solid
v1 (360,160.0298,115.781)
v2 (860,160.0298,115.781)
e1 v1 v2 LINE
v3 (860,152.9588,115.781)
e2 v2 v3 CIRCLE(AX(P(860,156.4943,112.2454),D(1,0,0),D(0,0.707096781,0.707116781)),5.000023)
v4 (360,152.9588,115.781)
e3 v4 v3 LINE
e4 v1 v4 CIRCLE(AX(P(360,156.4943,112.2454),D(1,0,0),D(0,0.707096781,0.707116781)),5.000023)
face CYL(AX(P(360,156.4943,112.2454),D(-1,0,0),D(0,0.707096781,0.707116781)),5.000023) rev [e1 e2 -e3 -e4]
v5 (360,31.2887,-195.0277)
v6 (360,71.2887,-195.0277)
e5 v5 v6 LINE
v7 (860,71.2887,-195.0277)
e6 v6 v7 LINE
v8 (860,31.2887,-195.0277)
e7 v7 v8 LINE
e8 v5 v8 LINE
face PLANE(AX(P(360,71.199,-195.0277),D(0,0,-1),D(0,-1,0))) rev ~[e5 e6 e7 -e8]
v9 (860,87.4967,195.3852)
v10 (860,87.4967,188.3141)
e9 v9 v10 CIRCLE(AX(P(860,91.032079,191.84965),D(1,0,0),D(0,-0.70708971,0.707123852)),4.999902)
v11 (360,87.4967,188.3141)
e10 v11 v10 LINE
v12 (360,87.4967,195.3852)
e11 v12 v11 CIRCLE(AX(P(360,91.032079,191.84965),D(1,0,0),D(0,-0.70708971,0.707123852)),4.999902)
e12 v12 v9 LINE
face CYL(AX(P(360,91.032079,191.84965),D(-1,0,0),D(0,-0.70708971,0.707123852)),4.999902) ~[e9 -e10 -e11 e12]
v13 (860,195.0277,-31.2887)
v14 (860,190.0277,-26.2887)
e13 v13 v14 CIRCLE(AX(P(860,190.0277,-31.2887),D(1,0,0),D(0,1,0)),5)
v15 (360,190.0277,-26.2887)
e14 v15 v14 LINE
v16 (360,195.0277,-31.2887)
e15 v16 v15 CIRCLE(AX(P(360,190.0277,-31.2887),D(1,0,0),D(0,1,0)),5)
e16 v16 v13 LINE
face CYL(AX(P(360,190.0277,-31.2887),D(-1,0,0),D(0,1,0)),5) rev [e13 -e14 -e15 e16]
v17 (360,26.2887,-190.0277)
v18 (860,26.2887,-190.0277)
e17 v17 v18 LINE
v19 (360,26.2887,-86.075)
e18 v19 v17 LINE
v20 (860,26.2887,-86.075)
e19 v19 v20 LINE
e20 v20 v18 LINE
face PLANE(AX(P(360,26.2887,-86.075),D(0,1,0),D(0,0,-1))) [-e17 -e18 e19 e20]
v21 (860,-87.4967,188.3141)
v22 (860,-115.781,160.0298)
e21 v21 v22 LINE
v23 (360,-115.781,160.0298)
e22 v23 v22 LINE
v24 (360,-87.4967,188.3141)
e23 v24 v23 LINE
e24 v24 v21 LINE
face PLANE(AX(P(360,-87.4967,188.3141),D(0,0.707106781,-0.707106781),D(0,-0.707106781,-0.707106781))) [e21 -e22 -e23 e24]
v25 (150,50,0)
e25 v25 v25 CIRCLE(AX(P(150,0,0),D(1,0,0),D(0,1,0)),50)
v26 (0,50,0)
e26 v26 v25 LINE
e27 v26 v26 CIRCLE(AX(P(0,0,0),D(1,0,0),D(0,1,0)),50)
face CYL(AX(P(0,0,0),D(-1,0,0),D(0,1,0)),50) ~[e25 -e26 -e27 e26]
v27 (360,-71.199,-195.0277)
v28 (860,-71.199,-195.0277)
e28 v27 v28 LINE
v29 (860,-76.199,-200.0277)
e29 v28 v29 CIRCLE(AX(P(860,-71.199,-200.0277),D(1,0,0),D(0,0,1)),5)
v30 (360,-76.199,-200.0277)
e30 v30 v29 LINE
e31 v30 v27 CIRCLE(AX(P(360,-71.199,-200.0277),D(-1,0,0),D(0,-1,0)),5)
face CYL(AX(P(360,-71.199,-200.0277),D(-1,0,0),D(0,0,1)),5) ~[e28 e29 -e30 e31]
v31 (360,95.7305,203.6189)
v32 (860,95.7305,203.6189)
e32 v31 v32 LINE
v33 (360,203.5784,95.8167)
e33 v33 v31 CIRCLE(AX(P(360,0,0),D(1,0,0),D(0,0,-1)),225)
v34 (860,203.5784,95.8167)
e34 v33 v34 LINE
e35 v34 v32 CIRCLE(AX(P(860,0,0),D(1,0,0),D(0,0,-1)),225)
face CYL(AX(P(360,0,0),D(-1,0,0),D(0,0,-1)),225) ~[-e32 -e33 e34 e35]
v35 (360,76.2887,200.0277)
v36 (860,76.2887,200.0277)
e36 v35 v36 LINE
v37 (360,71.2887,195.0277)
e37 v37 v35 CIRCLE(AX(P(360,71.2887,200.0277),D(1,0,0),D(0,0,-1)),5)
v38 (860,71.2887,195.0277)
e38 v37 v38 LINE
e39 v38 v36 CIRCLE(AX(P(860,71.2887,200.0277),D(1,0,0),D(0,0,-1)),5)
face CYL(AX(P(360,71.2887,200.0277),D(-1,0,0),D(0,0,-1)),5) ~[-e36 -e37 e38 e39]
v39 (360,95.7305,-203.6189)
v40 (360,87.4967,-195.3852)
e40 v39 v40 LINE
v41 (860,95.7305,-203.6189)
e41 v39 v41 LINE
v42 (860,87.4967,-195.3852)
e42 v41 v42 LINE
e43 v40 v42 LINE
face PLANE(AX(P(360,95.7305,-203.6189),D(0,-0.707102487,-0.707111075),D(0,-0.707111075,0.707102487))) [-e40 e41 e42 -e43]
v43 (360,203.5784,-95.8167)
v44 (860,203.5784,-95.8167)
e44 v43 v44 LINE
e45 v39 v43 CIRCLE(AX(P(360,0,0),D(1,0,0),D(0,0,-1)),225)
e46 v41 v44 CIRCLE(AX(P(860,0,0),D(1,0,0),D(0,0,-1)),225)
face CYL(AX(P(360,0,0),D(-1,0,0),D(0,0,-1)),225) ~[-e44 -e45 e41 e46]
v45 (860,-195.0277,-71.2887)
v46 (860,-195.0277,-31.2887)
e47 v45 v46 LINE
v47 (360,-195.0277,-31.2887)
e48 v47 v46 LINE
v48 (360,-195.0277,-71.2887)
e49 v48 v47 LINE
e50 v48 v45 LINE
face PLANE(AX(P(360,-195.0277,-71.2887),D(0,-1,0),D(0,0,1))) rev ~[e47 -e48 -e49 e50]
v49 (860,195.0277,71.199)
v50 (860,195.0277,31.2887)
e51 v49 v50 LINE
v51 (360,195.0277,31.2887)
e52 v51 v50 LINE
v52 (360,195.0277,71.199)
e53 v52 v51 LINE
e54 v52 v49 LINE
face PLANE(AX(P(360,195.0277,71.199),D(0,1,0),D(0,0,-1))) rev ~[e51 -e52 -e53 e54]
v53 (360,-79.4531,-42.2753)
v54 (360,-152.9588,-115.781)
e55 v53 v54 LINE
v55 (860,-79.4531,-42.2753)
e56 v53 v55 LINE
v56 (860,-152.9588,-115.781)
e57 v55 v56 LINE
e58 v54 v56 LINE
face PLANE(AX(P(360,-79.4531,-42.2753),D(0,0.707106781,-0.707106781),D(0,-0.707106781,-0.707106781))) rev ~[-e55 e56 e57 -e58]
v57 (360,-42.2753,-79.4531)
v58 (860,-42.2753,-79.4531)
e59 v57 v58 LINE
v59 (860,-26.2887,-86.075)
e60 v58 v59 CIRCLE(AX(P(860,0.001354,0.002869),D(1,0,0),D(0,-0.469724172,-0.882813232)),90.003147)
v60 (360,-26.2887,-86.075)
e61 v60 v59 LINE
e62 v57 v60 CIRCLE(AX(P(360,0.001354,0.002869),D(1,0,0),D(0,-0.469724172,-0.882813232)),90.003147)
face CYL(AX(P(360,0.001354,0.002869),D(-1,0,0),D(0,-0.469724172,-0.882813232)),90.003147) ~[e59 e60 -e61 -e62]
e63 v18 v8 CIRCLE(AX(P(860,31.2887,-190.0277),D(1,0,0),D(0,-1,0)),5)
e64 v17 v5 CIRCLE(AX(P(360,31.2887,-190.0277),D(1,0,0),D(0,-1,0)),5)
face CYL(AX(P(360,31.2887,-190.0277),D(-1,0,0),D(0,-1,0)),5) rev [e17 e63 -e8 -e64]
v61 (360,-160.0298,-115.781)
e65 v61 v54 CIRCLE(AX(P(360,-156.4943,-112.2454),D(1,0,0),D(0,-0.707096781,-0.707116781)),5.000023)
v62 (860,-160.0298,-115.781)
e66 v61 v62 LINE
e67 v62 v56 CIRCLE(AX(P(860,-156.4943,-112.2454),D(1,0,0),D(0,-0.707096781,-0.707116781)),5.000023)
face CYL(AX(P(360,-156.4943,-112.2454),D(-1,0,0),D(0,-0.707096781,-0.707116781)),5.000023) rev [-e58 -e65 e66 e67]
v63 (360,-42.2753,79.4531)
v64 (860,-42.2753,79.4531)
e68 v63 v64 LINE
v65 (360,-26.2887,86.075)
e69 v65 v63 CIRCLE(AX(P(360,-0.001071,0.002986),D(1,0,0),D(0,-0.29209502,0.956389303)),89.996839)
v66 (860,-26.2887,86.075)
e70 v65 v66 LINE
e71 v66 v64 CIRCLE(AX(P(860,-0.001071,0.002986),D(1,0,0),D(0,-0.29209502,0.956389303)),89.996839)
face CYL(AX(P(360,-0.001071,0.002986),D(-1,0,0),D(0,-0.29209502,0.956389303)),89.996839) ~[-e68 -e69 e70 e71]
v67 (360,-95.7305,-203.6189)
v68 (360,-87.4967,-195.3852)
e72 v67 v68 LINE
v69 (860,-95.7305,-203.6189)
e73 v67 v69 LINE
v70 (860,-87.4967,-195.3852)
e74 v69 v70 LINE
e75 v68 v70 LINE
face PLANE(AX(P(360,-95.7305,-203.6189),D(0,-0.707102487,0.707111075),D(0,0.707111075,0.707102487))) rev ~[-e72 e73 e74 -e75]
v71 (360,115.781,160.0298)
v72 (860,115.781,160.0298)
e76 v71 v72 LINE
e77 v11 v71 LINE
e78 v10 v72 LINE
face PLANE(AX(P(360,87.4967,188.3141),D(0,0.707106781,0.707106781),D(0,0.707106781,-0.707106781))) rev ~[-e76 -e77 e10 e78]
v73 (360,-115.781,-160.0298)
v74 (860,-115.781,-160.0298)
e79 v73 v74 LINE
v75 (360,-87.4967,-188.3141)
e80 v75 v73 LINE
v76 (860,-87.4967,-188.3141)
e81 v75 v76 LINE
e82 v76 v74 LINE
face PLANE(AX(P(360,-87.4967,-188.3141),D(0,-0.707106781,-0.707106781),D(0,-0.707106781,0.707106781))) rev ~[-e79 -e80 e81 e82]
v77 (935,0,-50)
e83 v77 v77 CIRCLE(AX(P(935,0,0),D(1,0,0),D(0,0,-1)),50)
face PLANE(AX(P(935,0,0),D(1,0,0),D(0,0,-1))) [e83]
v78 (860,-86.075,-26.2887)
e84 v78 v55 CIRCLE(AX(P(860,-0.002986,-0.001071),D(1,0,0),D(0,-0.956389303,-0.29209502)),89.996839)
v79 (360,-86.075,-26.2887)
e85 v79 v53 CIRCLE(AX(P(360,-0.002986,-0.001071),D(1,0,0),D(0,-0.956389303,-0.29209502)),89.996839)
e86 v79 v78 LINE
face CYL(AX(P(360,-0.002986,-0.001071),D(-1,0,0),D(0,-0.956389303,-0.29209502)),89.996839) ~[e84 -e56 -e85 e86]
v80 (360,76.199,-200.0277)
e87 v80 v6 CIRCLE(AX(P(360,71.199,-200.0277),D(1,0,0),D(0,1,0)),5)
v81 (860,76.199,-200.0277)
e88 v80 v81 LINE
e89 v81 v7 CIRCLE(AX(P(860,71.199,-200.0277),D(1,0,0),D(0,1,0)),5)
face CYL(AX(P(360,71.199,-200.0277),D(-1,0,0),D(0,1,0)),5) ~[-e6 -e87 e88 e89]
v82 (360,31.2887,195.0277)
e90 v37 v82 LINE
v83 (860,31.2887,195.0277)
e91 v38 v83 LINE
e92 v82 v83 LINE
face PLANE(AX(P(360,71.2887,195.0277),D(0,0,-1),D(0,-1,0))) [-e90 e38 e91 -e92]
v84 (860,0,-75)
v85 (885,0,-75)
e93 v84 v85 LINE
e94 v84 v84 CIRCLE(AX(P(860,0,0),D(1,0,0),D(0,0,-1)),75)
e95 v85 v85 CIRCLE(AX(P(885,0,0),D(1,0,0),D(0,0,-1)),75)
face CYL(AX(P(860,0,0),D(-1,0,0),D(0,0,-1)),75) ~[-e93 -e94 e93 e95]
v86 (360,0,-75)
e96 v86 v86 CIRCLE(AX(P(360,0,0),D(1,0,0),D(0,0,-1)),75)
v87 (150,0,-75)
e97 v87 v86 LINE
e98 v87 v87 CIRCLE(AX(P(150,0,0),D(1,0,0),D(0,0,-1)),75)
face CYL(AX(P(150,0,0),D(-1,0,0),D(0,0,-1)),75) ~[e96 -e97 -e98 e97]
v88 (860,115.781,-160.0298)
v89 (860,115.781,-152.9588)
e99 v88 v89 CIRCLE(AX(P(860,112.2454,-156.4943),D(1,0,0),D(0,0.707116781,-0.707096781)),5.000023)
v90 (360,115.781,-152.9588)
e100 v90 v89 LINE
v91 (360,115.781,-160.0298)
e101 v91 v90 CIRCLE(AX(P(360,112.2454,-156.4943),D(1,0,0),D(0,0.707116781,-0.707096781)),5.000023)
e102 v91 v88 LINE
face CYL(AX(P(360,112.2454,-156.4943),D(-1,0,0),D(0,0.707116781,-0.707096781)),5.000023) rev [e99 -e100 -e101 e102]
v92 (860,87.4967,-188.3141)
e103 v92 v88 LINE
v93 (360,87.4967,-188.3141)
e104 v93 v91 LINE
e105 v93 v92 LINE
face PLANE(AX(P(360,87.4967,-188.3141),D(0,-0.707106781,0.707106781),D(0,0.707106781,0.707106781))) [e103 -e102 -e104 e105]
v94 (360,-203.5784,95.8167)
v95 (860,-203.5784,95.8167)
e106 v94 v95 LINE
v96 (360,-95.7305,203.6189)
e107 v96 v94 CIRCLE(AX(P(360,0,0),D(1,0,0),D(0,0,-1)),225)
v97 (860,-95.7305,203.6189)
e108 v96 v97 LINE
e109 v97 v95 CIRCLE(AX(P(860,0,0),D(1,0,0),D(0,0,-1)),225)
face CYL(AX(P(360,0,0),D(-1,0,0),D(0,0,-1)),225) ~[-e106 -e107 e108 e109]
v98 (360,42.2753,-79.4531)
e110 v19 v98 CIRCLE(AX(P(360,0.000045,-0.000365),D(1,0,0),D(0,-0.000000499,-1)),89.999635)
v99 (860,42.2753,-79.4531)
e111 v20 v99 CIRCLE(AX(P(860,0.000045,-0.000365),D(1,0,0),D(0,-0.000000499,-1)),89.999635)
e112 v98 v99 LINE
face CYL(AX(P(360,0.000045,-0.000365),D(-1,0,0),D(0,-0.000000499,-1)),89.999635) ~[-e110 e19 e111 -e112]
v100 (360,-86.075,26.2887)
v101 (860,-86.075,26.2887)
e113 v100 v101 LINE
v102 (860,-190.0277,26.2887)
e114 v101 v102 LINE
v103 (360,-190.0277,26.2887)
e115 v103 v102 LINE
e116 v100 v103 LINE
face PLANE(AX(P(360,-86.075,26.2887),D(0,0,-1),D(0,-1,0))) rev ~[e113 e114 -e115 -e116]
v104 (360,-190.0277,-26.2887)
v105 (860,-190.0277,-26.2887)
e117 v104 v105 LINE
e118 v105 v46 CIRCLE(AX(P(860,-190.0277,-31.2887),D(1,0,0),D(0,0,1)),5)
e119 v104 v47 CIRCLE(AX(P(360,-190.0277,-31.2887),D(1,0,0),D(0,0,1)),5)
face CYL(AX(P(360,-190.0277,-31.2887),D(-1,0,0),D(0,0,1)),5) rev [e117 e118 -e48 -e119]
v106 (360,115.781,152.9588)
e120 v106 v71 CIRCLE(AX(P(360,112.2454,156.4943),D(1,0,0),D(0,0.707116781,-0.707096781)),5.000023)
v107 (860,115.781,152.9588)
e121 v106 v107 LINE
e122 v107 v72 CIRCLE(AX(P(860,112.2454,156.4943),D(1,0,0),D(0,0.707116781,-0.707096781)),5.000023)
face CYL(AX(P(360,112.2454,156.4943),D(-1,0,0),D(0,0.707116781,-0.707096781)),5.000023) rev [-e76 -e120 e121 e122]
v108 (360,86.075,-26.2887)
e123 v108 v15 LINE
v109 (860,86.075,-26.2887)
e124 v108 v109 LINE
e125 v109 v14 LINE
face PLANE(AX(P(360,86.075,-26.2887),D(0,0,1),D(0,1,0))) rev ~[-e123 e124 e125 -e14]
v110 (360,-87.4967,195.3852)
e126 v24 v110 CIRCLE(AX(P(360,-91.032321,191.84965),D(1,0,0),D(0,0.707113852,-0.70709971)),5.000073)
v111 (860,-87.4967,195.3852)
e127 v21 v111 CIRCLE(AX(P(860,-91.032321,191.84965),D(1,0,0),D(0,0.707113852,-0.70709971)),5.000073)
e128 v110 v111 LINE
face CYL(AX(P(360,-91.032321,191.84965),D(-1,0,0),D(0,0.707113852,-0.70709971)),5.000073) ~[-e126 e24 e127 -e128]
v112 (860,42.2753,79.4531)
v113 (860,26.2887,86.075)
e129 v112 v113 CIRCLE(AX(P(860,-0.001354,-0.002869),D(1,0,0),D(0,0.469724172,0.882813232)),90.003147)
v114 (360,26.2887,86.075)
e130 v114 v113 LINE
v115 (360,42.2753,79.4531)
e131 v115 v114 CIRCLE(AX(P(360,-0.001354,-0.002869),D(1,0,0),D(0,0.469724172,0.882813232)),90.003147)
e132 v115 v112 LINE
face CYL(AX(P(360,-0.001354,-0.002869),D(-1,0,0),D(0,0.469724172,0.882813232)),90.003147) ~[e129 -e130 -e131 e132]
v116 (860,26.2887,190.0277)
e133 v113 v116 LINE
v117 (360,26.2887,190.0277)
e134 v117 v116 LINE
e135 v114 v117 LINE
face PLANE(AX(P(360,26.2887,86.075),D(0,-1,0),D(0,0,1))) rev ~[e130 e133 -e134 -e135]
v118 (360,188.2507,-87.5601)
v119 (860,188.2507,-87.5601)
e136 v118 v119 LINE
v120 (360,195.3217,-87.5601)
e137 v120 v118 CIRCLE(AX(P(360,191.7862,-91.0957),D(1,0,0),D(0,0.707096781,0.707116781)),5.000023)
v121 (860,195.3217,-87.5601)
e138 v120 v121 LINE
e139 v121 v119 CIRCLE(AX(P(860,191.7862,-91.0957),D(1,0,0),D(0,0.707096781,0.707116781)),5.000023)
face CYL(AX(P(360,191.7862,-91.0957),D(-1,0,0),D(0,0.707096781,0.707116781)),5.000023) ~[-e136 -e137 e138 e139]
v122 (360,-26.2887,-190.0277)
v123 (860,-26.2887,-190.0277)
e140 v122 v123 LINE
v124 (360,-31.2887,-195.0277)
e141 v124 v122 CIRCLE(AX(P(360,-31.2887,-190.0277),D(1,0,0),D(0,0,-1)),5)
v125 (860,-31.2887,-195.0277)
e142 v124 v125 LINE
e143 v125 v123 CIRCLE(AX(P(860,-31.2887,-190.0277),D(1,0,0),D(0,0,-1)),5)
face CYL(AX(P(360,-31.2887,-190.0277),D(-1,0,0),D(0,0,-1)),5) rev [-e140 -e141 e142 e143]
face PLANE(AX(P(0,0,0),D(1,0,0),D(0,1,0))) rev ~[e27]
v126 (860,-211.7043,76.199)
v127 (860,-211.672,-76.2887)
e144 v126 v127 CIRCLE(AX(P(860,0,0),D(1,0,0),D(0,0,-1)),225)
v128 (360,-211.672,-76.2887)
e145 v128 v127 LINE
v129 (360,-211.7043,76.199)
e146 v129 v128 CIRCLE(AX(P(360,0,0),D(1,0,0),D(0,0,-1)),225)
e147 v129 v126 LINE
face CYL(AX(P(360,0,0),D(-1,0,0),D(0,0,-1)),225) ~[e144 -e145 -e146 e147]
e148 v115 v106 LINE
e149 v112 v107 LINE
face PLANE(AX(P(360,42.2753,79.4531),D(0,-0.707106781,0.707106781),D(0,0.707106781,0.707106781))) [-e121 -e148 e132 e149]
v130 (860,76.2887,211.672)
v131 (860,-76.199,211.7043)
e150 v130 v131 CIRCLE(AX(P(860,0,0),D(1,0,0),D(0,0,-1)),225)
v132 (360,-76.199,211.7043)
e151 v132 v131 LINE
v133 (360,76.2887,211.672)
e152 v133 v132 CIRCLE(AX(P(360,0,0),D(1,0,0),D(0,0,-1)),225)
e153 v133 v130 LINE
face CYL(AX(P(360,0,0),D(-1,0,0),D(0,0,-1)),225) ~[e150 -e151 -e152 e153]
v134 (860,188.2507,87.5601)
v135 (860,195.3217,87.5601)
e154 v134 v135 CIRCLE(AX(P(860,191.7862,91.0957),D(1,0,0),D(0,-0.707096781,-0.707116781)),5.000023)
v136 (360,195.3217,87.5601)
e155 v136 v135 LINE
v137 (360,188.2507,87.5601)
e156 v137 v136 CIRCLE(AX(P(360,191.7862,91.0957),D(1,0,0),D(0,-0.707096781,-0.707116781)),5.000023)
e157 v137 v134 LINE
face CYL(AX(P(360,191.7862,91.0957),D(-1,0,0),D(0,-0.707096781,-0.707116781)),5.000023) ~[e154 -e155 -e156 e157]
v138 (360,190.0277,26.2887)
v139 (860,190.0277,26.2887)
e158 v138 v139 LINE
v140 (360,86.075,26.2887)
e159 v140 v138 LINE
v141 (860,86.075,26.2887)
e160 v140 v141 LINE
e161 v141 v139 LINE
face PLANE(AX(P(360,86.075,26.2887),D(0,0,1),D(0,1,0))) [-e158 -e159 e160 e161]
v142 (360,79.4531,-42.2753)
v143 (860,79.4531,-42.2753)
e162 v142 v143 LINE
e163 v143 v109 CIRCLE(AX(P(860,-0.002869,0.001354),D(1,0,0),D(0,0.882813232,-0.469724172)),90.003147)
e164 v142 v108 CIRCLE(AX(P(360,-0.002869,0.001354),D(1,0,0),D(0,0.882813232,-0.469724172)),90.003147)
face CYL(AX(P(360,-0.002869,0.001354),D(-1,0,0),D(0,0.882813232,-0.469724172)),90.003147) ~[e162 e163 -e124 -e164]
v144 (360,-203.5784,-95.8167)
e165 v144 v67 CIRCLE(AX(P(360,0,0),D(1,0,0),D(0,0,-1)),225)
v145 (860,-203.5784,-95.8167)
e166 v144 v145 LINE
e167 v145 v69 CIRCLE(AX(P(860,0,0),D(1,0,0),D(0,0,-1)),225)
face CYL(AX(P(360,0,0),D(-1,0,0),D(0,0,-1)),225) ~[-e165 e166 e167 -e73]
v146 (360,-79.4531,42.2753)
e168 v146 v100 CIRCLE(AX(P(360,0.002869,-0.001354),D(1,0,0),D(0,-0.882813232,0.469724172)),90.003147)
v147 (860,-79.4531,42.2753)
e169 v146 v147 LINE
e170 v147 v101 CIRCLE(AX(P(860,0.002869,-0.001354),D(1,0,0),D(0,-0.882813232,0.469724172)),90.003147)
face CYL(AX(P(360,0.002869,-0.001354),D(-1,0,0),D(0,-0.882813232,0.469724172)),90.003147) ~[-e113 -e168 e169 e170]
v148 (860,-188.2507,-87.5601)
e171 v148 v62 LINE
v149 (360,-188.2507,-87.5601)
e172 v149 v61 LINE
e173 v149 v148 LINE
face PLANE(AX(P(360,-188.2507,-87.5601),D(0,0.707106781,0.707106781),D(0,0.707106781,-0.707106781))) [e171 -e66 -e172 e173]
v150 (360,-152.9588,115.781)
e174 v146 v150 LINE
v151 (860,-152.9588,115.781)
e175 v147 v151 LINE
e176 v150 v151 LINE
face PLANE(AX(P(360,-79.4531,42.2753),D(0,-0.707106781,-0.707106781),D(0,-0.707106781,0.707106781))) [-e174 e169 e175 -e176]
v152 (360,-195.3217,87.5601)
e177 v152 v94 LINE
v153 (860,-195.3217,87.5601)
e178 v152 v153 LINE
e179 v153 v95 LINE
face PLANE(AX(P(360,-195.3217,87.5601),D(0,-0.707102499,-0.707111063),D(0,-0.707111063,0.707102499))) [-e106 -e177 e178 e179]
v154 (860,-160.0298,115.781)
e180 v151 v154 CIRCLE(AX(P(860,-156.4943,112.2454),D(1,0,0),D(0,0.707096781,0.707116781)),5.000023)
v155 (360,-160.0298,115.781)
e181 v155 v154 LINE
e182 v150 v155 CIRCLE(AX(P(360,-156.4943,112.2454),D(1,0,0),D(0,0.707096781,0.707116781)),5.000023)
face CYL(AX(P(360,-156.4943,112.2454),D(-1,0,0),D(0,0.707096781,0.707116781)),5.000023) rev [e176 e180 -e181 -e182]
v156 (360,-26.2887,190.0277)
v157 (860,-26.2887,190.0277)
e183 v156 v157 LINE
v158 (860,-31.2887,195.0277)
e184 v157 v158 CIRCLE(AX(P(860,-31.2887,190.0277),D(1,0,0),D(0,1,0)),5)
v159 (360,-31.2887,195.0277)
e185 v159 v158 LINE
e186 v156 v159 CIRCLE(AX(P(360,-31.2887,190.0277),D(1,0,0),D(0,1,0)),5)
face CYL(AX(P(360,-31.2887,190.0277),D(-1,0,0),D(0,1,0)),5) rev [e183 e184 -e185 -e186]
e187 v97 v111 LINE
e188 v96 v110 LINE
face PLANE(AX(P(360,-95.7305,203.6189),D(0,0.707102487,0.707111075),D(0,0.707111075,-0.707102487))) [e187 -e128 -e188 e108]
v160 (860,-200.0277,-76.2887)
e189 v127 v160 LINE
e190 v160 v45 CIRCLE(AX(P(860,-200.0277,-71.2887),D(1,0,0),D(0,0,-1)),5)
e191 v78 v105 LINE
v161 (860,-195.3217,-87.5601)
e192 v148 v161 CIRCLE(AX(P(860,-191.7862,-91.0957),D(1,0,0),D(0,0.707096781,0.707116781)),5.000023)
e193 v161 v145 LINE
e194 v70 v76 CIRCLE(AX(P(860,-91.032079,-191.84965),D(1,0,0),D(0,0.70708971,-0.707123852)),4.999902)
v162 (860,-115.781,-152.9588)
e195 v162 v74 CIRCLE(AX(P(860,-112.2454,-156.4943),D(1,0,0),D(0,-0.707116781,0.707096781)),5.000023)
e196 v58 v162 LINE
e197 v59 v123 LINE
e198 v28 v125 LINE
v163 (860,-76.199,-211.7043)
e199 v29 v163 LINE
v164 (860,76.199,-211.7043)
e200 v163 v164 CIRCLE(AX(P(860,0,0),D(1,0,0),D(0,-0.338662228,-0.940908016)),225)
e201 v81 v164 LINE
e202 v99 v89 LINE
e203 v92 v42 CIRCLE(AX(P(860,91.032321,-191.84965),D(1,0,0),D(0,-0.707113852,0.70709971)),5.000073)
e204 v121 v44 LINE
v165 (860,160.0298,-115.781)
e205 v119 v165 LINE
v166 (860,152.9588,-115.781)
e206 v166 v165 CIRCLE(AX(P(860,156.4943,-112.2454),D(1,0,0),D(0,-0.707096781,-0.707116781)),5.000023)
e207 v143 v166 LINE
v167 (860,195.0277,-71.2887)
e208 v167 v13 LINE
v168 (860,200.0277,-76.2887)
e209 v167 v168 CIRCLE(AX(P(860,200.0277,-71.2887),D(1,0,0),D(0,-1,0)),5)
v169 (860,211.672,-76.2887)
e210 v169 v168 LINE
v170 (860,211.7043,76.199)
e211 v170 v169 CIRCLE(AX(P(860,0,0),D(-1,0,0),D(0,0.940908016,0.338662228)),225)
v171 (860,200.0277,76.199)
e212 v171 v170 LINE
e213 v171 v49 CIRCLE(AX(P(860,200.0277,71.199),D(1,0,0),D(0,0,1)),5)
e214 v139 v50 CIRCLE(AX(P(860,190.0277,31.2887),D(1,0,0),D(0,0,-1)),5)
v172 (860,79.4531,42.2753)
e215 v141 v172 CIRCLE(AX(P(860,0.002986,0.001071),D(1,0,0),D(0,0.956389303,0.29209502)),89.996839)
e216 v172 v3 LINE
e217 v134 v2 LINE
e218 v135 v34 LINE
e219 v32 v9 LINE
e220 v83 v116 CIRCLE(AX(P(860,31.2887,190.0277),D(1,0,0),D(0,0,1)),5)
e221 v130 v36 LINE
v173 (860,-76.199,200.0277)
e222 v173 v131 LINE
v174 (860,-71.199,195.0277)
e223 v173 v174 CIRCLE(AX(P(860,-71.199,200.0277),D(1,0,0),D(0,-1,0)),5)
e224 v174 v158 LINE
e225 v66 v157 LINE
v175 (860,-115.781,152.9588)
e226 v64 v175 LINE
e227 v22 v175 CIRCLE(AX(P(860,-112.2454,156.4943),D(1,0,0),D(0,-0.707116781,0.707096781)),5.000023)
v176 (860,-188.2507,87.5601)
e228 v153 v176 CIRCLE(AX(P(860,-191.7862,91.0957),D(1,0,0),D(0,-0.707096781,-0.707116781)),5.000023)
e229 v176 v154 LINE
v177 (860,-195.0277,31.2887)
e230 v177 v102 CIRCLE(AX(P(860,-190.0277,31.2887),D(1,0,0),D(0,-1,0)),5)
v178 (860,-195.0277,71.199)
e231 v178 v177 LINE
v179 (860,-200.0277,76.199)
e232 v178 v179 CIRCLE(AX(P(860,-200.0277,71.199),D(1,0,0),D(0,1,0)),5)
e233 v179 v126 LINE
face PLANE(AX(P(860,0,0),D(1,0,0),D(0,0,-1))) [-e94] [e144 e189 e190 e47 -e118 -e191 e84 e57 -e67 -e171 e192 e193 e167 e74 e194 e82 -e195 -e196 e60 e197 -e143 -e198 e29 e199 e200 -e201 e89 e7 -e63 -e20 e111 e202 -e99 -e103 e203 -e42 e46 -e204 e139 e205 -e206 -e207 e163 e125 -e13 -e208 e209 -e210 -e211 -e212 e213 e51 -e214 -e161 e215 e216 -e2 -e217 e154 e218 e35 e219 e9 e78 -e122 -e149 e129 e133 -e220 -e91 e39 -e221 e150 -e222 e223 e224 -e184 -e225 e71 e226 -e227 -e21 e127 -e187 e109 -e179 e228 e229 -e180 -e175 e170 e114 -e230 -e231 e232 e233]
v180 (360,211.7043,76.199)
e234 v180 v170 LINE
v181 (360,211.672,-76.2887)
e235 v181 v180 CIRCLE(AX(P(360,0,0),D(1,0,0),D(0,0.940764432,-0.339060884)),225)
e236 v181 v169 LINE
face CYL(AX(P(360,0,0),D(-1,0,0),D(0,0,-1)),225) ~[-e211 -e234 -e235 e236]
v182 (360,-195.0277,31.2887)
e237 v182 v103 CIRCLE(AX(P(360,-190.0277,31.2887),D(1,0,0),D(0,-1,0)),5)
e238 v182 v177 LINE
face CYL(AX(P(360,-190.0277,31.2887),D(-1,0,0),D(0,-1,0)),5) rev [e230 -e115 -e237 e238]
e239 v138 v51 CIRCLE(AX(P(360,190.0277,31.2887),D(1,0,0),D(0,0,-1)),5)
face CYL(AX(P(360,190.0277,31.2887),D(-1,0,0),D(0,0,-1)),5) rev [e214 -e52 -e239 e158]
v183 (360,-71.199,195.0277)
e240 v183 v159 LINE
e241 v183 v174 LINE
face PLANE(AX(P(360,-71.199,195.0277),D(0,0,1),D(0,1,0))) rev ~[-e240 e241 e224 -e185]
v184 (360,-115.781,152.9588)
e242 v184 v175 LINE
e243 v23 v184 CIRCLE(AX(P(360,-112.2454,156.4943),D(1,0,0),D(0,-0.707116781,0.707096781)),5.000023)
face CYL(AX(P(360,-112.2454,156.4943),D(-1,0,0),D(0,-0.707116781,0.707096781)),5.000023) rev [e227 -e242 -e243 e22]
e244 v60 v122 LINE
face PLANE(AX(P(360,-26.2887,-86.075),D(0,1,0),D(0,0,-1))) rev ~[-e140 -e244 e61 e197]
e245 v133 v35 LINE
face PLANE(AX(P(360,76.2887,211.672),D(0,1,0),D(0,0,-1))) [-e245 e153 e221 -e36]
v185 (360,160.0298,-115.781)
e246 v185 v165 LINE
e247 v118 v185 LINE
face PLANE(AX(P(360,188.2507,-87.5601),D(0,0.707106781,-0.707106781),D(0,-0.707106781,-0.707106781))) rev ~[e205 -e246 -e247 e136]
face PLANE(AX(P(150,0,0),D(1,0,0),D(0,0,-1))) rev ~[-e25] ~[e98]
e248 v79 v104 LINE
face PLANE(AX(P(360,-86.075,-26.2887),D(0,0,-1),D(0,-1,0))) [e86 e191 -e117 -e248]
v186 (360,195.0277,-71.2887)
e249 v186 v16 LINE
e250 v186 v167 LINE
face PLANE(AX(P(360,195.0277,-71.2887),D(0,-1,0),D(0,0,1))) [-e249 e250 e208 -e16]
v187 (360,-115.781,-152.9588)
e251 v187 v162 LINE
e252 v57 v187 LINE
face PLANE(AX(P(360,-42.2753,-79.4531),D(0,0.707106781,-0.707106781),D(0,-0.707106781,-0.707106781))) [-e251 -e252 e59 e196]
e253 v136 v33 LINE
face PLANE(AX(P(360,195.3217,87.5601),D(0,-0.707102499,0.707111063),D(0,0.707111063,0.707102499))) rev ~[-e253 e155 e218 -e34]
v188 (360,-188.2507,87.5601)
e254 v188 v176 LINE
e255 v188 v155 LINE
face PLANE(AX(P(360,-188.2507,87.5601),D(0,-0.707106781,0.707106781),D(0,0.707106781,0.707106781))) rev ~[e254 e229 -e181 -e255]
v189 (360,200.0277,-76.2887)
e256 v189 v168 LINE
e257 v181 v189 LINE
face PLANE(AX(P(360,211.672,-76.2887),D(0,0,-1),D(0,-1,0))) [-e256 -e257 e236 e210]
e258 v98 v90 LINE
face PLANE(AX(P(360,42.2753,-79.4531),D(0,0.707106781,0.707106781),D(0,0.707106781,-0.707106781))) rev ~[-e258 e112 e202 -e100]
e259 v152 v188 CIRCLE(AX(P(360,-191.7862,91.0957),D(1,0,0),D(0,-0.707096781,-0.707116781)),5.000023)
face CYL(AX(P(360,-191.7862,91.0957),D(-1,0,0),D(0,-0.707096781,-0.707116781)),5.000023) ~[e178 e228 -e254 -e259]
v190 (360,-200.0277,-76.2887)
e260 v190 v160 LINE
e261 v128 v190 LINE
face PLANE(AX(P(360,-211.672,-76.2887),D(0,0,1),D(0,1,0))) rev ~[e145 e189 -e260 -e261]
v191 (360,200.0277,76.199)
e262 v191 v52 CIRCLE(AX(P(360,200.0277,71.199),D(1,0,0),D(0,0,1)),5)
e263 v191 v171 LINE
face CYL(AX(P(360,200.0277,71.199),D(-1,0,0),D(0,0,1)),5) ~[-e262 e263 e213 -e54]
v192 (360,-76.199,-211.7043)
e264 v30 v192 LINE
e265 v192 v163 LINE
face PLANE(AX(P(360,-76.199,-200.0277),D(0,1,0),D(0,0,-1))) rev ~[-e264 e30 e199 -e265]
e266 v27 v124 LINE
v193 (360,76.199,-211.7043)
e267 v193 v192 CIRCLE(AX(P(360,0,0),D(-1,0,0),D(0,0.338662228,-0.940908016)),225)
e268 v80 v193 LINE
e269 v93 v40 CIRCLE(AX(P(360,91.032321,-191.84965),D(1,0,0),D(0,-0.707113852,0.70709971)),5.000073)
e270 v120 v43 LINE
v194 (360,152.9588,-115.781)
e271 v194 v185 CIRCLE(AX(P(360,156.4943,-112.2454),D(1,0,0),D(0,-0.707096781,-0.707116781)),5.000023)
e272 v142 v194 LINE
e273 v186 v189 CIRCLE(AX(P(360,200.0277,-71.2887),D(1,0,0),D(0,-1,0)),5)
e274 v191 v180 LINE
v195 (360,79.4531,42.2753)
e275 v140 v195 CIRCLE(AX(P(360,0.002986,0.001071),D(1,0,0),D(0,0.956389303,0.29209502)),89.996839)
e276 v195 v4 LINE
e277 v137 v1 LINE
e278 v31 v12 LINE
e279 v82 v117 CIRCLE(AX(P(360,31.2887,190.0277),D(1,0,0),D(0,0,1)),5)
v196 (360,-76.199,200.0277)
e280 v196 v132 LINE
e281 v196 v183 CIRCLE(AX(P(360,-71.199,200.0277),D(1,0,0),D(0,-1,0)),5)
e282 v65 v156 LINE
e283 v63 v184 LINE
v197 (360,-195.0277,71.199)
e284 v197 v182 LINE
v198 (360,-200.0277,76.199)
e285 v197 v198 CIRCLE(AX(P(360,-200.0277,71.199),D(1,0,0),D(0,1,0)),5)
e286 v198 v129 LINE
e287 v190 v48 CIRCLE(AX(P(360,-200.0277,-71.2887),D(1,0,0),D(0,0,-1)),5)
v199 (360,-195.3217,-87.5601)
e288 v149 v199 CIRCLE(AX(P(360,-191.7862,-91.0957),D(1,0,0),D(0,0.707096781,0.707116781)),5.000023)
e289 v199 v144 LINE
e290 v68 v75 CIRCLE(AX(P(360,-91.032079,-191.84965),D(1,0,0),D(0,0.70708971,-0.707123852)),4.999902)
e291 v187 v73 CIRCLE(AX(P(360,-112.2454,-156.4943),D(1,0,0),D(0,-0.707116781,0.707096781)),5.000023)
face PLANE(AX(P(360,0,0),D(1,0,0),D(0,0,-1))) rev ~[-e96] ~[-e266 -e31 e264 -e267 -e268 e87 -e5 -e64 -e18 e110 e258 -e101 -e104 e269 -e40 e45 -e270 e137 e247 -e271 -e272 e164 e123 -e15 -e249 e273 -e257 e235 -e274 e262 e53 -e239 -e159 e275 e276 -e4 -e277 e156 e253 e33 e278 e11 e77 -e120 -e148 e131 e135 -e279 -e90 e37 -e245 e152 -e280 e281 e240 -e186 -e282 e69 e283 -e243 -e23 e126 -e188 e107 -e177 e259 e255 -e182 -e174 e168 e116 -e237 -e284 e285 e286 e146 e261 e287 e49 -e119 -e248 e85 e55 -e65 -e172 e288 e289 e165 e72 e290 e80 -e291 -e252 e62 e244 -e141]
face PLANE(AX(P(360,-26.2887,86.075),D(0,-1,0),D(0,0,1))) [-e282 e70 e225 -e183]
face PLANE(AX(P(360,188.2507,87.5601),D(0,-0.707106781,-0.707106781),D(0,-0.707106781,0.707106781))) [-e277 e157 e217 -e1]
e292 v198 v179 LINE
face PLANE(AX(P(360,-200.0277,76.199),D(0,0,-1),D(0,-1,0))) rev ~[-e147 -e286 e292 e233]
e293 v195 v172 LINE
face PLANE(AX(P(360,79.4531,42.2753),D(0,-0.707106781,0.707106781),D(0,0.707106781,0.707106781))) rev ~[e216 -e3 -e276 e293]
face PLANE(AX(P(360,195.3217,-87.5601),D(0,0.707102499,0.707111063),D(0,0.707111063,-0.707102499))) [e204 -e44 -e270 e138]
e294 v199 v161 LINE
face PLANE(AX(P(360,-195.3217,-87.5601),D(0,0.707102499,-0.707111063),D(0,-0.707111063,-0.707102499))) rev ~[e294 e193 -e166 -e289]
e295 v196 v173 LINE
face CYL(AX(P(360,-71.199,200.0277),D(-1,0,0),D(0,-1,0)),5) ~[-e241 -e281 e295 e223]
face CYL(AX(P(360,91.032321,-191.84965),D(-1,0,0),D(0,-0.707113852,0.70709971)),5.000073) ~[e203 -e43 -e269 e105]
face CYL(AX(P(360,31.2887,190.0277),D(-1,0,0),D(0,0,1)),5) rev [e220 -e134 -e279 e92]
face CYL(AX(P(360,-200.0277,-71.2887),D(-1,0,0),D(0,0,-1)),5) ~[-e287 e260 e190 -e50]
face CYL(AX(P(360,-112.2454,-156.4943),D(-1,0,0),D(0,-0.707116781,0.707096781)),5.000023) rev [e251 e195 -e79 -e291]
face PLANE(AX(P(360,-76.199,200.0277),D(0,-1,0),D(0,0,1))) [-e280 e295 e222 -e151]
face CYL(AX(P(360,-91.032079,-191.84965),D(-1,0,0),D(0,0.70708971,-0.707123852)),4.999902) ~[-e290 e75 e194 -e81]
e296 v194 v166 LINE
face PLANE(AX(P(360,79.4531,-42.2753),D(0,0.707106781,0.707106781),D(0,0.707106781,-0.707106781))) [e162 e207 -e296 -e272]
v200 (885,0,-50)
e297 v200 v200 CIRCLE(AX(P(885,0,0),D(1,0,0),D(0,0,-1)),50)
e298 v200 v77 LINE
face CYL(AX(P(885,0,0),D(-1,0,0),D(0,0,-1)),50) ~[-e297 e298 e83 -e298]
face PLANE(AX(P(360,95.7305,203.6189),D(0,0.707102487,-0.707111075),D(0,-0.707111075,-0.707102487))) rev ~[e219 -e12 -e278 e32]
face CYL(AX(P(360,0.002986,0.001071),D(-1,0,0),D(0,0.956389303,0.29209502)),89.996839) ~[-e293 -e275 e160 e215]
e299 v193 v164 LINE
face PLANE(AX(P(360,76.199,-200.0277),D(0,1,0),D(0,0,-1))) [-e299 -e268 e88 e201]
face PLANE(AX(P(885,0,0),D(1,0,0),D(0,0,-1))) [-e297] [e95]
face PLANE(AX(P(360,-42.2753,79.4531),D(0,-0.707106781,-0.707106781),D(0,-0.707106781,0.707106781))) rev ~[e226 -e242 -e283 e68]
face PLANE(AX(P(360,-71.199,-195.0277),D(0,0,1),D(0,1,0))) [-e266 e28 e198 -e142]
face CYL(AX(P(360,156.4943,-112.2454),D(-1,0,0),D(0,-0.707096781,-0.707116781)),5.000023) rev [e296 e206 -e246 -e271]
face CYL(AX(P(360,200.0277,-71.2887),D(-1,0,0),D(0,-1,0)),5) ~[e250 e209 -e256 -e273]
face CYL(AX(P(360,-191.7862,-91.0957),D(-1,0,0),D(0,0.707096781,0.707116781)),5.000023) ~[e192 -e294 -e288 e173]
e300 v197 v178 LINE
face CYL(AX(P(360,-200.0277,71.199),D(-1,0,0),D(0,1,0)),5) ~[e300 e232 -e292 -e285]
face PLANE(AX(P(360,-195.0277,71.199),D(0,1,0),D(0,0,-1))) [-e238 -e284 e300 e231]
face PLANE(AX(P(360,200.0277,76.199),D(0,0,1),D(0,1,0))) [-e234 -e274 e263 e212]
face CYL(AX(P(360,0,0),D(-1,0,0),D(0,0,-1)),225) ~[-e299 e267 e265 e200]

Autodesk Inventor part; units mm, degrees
ref_plane "YZ Plane" through (0, 0, 0) normal (1, 0, 0) x (0, 1, 0)
ref_plane "XZ Plane" through (0, 0, 0) normal (0, 1, 0) x (-1, 0, 0)
ref_plane "XY Plane" through (0, 0, 0) normal (0, 0, 1) x (1, 0, 0)
sketch "Sketch1" plane through (0, 0, 0) normal (1, 0, 0) x (0, 1, 0)
  circle A0 centre (0, 0) radius 50
  dimension "d0" = 100
extrude "Extrusion1" add sketch "Sketch1" along normal blind 150
sketch "Sketch2" plane through (150, 0, 0) normal (1, 0, 0) x (0, 0, -1)
  circle A0 centre (0, 0) radius 75
  dimension "d3" = 150
extrude "Extrusion2" add sketch "Sketch2" along normal blind 210
sketch "Sketch3" plane through (360, 0, 0) normal (1, 0, 0) x (0, 0, -1)
  arc A0 (76.2887, 211.672) -> (-75.5618, 211.9326) centre (0, 0) ccw construction
  line L0 (0, 0) -> (0, 225) construction
  line L1 (0, 225) -> (26.2887, 225)
  line L2 (0, 225) -> (-26.2887, 225)
  line L3 (76.2887, 211.672) -> (76.2887, 200.0277)
  line L4 (71.2887, 195.0277) -> (31.2887, 195.0277)
  line L5 (0, 225) -> (-26.2887, 225)
  line L6 (-71.199, 195.0277) -> (-31.2887, 195.0277)
  arc A1 (-76.199, 197.1136) -> (-74.2008, 195.0277) centre (-74.2008, 197.0277) ccw
  circle A2 centre (0, 0) radius 225
  line L7 (-26.2887, 86.075) -> (-26.2887, 190.0277)
  line L8 (-75, 212.132) -> (-75, 225)
  line L9 (26.2887, 86.075) -> (26.2887, 190.0277)
  line L10 (75, 212.132) -> (75, 225)
  arc A3 (-76.199, 197.1136) -> (-74.2008, 195.0277) centre (-74.2008, 197.0277) ccw
  line L11 (-76.199, 200.0277) -> (-76.199, 211.7043)
  arc A4 (-26.2887, 193.0277) -> (-28.2887, 195.0277) centre (-28.2887, 193.0277) ccw
  arc A5 (28.2887, 195.0277) -> (26.2887, 193.0277) centre (28.2887, 193.0277) ccw
  arc A6 (-76.199, 197.0277) -> (-74.199, 195.0277) centre (-74.199, 197.0277) ccw
  arc A7 (-26.2887, 190.0277) -> (-31.2887, 195.0277) centre (-31.2887, 190.0277) ccw
  arc A8 (31.2887, 195.0277) -> (26.2887, 190.0277) centre (31.2887, 190.0277) ccw
  arc A9 (71.2887, 195.0277) -> (76.2887, 200.0277) centre (71.2887, 200.0277) ccw
  arc A10 (-76.199, 200.0277) -> (-71.199, 195.0277) centre (-71.199, 200.0277) ccw
  line L12 (0, 0) -> (159.099, 159.099) construction
  line L13 (0, 0) -> (225, 0) construction
  arc A11 (-75.5618, -211.9326) -> (76.2887, -211.672) centre (0, 0) ccw construction
  line L14 (76.2887, -211.672) -> (76.2887, -200.0277)
  line L15 (71.2887, -195.0277) -> (31.2887, -195.0277)
  line L16 (-71.199, -195.0277) -> (-31.2887, -195.0277)
  line L17 (-26.2887, -86.075) -> (-26.2887, -190.0277)
  line L18 (26.2887, -86.075) -> (26.2887, -190.0277)
  line L19 (-76.199, -200.0277) -> (-76.199, -211.7043)
  arc A12 (-31.2887, -195.0277) -> (-26.2887, -190.0277) centre (-31.2887, -190.0277) ccw
  arc A13 (26.2887, -190.0277) -> (31.2887, -195.0277) centre (31.2887, -190.0277) ccw
  arc A14 (76.2887, -200.0277) -> (71.2887, -195.0277) centre (71.2887, -200.0277) ccw
  line L20 (211.672, 76.2887) -> (200.0277, 76.2887)
  line L21 (195.0277, 71.2887) -> (195.0277, 31.2887)
  line L22 (195.0277, -71.199) -> (195.0277, -31.2887)
  line L23 (86.075, -26.2887) -> (190.0277, -26.2887)
  line L24 (86.075, 26.2887) -> (190.0277, 26.2887)
  line L25 (200.0277, -76.199) -> (211.7043, -76.199)
  arc A15 (195.0277, -31.2887) -> (190.0277, -26.2887) centre (190.0277, -31.2887) ccw
  arc A16 (200.0277, 76.2887) -> (195.0277, 71.2887) centre (200.0277, 71.2887) ccw
  arc A17 (195.0277, -71.199) -> (200.0277, -76.199) centre (200.0277, -71.199) ccw
  arc A18 (195.0277, -31.2887) -> (190.0277, -26.2887) centre (190.0277, -31.2887) ccw
  arc A19 (190.0277, 26.2887) -> (195.0277, 31.2887) centre (190.0277, 31.2887) ccw
  line L26 (-86.075, -26.2887) -> (-190.0277, -26.2887)
  line L27 (-86.075, 26.2887) -> (-190.0277, 26.2887)
  line L28 (-195.0277, 71.2887) -> (-195.0277, 31.2887)
  arc A20 (-195.0277, 71.2887) -> (-200.0277, 76.2887) centre (-200.0277, 71.2887) ccw
  line L29 (-211.672, 76.2887) -> (-200.0277, 76.2887)
  line L30 (-195.0277, -71.199) -> (-195.0277, -31.2887)
  arc A21 (-190.0277, -26.2887) -> (-195.0277, -31.2887) centre (-190.0277, -31.2887) ccw
  line L31 (-200.0277, -76.199) -> (-211.7043, -76.199)
  arc A22 (-200.0277, -76.199) -> (-195.0277, -71.199) centre (-200.0277, -71.199) ccw
  arc A23 (-195.0277, 31.2887) -> (-190.0277, 26.2887) centre (-190.0277, 31.2887) ccw
  line L32 (0, 0) -> (207.8729, 86.1038) construction
  line L33 (0, 0) -> (225, 0) construction
  line L34 (42.2753, 79.4531) -> (115.781, 152.9588)
  line L35 (79.4531, 42.2753) -> (152.9588, 115.781)
  line L36 (188.3141, 87.4967) -> (160.0298, 115.781)
  arc A24 (188.3141, 87.4967) -> (195.3852, 87.4967) centre (191.8496, 91.0322) ccw
  line L37 (203.6189, 95.7305) -> (195.3852, 87.4967)
  line L38 (87.5601, 188.2507) -> (115.781, 160.0298)
  arc A25 (115.781, 152.9588) -> (115.781, 160.0298) centre (112.2454, 156.4943) ccw
  line L39 (87.5601, 195.3217) -> (95.8167, 203.5784)
  arc A26 (87.5601, 195.3217) -> (87.5601, 188.2507) centre (91.0957, 191.7862) ccw
  arc A27 (160.0298, 115.781) -> (152.9588, 115.781) centre (156.4943, 112.2454) ccw
  line L40 (86.075, 26.2887) -> (190.0277, 26.2887)
  line L41 (86.075, -26.2887) -> (190.0277, -26.2887)
  line L42 (195.0277, -71.2887) -> (195.0277, -31.2887)
  arc A28 (195.0277, -71.2887) -> (200.0277, -76.2887) centre (200.0277, -71.2887) ccw
  line L43 (211.672, -76.2887) -> (200.0277, -76.2887)
  line L44 (195.0277, 71.199) -> (195.0277, 31.2887)
  arc A29 (190.0277, 26.2887) -> (195.0277, 31.2887) centre (190.0277, 31.2887) ccw
  line L45 (200.0277, 76.199) -> (211.7043, 76.199)
  arc A30 (200.0277, 76.199) -> (195.0277, 71.199) centre (200.0277, 71.199) ccw
  arc A31 (195.0277, -31.2887) -> (190.0277, -26.2887) centre (190.0277, -31.2887) ccw
  line L46 (79.4531, -42.2753) -> (152.9588, -115.781)
  line L47 (42.2753, -79.4531) -> (115.781, -152.9588)
  line L48 (87.5601, -188.2507) -> (115.781, -160.0298)
  arc A32 (87.5601, -188.2507) -> (87.5601, -195.3217) centre (91.0957, -191.7862) ccw
  line L49 (87.5601, -195.3217) -> (95.8167, -203.5784)
  line L50 (188.3141, -87.4967) -> (160.0298, -115.781)
  arc A33 (152.9588, -115.781) -> (160.0298, -115.781) centre (156.4943, -112.2454) ccw
  line L51 (203.6189, -95.7305) -> (195.3852, -87.4967)
  arc A34 (195.3852, -87.4967) -> (188.3141, -87.4967) centre (191.8496, -91.0322) ccw
  arc A35 (115.781, -160.0298) -> (115.781, -152.9588) centre (112.2454, -156.4943) ccw
  line L52 (-42.2753, -79.4531) -> (-115.781, -152.9588)
  line L53 (-79.4531, -42.2753) -> (-152.9588, -115.781)
  arc A36 (-160.0298, -115.781) -> (-152.9588, -115.781) centre (-156.4943, -112.2454) ccw
  line L54 (-188.3141, -87.4967) -> (-160.0298, -115.781)
  line L55 (-203.6189, -95.7305) -> (-195.3852, -87.4967)
  arc A37 (-188.3141, -87.4967) -> (-195.3852, -87.4967) centre (-191.8496, -91.0322) ccw
  arc A38 (-115.781, -152.9588) -> (-115.781, -160.0298) centre (-112.2454, -156.4943) ccw
  line L56 (-87.5601, -188.2507) -> (-115.781, -160.0298)
  line L57 (-87.5601, -195.3217) -> (-95.8167, -203.5784)
  arc A39 (-87.5601, -195.3217) -> (-87.5601, -188.2507) centre (-91.0957, -191.7862) ccw
  line L58 (-42.2753, 79.4531) -> (-115.781, 152.9588)
  line L59 (-79.4531, 42.2753) -> (-152.9588, 115.781)
  line L60 (-188.3141, 87.4967) -> (-160.0298, 115.781)
  arc A40 (-152.9588, 115.781) -> (-160.0298, 115.781) centre (-156.4943, 112.2454) ccw
  line L61 (-203.6189, 95.7305) -> (-195.3852, 87.4967)
  arc A41 (-195.3852, 87.4967) -> (-188.3141, 87.4967) centre (-191.8496, 91.0322) ccw
  line L62 (-87.5601, 188.2507) -> (-115.781, 160.0298)
  arc A42 (-115.781, 160.0298) -> (-115.781, 152.9588) centre (-112.2454, 156.4943) ccw
  line L63 (-87.5601, 195.3217) -> (-95.8167, 203.5784)
  arc A43 (-87.5601, 188.2507) -> (-87.5601, 195.3217) centre (-91.0957, 191.7862) ccw
  arc A44 (-79.4531, 42.2753) -> (-86.075, 26.2887) centre (0, 0) ccw
  arc A45 (-86.075, -26.2887) -> (-79.4531, -42.2753) centre (0, 0) ccw
  arc A46 (-42.2753, -79.4531) -> (-26.2887, -86.075) centre (0, 0) ccw
  arc A47 (26.2887, -86.075) -> (42.2753, -79.4531) centre (0, 0) ccw
  arc A48 (79.4531, -42.2753) -> (86.075, -26.2887) centre (0, 0) ccw
  arc A49 (90, 0) -> (79.4531, 42.2753) centre (0, 0) ccw
  arc A50 (42.2753, 79.4531) -> (26.2887, 86.075) centre (0, 0) ccw
  arc A51 (-26.2887, 86.075) -> (-42.2753, 79.4531) centre (0, 0) ccw
  line L64 (-76.199, -200.0277) -> (-76.199, -200.0277)
  line L65 (-71.199, -195.0277) -> (-71.199, -195.0277)
  arc A52 (-71.199, -195.0277) -> (-76.199, -200.0277) centre (-71.199, -200.0277) ccw
  point P0 (76.2887, 195.0277)
  point P1 (26.2887, 195.0277)
  point P2 (-76.2887, 195.0277)
  point P3 (-26.2887, 195.0277)
  dimension "d6" = 450
  dimension "d10" = 75
  dimension "d11" = 75
  dimension "d12" = 30
  dimension "d13" = 2
  dimension "d14" = 2
  dimension "d15" = 2
  dimension "d16" = 2
  dimension "d17" = 5
  dimension "d18" = 225
  dimension "d19" = 45
  dimension "d20" = 225
  dimension "d21" = 22.5
  dimension "d24" = 5
extrude "Extrusion3" add sketch "Sketch3" along normal blind 500 contours L3 A9 L4 A8 L9 A50 L34 A25 L38 A26 L39 A2 L37 A24 L36 A27 L35 A49 L24 A19 L21 A30 L45 L25 A17 L22 A15 L23 A48 L46 A33 L50 A34 L51 L49 A32 L48 A35 L47 A47 L18 A13 L15 A14 L14 L19 A52 L16 A12 L17 A46 L52 A38 L56 A39 L57 L55 A37 L54 A36 L53 A45 L26 A21 L30 A22 L31 L29 A20 L28 A23 L27 A44 L59 A40 L60 A41 L61 L63 A43 L62 A42 L58 A51 L7 A7 L6 A10 L11
sketch "Sketch6" plane through (860, 0, 0) normal (1, 0, 0) x (0, 0, -1)
  circle A0 centre (0, 0) radius 75
  dimension "d25" = 150
extrude "Extrusion4" add sketch "Sketch6" along normal blind 25
sketch "Sketch7" plane through (885, 0, 0) normal (1, 0, 0) x (0, 0, -1)
  circle A0 centre (0, 0) radius 50
  dimension "d28" = 100
extrude "Extrusion5" add sketch "Sketch7" along normal blind 50
equation "\"d11\" = d10"
properties part number "Motor_rotor" material "Aluminum 6061, Welded"
